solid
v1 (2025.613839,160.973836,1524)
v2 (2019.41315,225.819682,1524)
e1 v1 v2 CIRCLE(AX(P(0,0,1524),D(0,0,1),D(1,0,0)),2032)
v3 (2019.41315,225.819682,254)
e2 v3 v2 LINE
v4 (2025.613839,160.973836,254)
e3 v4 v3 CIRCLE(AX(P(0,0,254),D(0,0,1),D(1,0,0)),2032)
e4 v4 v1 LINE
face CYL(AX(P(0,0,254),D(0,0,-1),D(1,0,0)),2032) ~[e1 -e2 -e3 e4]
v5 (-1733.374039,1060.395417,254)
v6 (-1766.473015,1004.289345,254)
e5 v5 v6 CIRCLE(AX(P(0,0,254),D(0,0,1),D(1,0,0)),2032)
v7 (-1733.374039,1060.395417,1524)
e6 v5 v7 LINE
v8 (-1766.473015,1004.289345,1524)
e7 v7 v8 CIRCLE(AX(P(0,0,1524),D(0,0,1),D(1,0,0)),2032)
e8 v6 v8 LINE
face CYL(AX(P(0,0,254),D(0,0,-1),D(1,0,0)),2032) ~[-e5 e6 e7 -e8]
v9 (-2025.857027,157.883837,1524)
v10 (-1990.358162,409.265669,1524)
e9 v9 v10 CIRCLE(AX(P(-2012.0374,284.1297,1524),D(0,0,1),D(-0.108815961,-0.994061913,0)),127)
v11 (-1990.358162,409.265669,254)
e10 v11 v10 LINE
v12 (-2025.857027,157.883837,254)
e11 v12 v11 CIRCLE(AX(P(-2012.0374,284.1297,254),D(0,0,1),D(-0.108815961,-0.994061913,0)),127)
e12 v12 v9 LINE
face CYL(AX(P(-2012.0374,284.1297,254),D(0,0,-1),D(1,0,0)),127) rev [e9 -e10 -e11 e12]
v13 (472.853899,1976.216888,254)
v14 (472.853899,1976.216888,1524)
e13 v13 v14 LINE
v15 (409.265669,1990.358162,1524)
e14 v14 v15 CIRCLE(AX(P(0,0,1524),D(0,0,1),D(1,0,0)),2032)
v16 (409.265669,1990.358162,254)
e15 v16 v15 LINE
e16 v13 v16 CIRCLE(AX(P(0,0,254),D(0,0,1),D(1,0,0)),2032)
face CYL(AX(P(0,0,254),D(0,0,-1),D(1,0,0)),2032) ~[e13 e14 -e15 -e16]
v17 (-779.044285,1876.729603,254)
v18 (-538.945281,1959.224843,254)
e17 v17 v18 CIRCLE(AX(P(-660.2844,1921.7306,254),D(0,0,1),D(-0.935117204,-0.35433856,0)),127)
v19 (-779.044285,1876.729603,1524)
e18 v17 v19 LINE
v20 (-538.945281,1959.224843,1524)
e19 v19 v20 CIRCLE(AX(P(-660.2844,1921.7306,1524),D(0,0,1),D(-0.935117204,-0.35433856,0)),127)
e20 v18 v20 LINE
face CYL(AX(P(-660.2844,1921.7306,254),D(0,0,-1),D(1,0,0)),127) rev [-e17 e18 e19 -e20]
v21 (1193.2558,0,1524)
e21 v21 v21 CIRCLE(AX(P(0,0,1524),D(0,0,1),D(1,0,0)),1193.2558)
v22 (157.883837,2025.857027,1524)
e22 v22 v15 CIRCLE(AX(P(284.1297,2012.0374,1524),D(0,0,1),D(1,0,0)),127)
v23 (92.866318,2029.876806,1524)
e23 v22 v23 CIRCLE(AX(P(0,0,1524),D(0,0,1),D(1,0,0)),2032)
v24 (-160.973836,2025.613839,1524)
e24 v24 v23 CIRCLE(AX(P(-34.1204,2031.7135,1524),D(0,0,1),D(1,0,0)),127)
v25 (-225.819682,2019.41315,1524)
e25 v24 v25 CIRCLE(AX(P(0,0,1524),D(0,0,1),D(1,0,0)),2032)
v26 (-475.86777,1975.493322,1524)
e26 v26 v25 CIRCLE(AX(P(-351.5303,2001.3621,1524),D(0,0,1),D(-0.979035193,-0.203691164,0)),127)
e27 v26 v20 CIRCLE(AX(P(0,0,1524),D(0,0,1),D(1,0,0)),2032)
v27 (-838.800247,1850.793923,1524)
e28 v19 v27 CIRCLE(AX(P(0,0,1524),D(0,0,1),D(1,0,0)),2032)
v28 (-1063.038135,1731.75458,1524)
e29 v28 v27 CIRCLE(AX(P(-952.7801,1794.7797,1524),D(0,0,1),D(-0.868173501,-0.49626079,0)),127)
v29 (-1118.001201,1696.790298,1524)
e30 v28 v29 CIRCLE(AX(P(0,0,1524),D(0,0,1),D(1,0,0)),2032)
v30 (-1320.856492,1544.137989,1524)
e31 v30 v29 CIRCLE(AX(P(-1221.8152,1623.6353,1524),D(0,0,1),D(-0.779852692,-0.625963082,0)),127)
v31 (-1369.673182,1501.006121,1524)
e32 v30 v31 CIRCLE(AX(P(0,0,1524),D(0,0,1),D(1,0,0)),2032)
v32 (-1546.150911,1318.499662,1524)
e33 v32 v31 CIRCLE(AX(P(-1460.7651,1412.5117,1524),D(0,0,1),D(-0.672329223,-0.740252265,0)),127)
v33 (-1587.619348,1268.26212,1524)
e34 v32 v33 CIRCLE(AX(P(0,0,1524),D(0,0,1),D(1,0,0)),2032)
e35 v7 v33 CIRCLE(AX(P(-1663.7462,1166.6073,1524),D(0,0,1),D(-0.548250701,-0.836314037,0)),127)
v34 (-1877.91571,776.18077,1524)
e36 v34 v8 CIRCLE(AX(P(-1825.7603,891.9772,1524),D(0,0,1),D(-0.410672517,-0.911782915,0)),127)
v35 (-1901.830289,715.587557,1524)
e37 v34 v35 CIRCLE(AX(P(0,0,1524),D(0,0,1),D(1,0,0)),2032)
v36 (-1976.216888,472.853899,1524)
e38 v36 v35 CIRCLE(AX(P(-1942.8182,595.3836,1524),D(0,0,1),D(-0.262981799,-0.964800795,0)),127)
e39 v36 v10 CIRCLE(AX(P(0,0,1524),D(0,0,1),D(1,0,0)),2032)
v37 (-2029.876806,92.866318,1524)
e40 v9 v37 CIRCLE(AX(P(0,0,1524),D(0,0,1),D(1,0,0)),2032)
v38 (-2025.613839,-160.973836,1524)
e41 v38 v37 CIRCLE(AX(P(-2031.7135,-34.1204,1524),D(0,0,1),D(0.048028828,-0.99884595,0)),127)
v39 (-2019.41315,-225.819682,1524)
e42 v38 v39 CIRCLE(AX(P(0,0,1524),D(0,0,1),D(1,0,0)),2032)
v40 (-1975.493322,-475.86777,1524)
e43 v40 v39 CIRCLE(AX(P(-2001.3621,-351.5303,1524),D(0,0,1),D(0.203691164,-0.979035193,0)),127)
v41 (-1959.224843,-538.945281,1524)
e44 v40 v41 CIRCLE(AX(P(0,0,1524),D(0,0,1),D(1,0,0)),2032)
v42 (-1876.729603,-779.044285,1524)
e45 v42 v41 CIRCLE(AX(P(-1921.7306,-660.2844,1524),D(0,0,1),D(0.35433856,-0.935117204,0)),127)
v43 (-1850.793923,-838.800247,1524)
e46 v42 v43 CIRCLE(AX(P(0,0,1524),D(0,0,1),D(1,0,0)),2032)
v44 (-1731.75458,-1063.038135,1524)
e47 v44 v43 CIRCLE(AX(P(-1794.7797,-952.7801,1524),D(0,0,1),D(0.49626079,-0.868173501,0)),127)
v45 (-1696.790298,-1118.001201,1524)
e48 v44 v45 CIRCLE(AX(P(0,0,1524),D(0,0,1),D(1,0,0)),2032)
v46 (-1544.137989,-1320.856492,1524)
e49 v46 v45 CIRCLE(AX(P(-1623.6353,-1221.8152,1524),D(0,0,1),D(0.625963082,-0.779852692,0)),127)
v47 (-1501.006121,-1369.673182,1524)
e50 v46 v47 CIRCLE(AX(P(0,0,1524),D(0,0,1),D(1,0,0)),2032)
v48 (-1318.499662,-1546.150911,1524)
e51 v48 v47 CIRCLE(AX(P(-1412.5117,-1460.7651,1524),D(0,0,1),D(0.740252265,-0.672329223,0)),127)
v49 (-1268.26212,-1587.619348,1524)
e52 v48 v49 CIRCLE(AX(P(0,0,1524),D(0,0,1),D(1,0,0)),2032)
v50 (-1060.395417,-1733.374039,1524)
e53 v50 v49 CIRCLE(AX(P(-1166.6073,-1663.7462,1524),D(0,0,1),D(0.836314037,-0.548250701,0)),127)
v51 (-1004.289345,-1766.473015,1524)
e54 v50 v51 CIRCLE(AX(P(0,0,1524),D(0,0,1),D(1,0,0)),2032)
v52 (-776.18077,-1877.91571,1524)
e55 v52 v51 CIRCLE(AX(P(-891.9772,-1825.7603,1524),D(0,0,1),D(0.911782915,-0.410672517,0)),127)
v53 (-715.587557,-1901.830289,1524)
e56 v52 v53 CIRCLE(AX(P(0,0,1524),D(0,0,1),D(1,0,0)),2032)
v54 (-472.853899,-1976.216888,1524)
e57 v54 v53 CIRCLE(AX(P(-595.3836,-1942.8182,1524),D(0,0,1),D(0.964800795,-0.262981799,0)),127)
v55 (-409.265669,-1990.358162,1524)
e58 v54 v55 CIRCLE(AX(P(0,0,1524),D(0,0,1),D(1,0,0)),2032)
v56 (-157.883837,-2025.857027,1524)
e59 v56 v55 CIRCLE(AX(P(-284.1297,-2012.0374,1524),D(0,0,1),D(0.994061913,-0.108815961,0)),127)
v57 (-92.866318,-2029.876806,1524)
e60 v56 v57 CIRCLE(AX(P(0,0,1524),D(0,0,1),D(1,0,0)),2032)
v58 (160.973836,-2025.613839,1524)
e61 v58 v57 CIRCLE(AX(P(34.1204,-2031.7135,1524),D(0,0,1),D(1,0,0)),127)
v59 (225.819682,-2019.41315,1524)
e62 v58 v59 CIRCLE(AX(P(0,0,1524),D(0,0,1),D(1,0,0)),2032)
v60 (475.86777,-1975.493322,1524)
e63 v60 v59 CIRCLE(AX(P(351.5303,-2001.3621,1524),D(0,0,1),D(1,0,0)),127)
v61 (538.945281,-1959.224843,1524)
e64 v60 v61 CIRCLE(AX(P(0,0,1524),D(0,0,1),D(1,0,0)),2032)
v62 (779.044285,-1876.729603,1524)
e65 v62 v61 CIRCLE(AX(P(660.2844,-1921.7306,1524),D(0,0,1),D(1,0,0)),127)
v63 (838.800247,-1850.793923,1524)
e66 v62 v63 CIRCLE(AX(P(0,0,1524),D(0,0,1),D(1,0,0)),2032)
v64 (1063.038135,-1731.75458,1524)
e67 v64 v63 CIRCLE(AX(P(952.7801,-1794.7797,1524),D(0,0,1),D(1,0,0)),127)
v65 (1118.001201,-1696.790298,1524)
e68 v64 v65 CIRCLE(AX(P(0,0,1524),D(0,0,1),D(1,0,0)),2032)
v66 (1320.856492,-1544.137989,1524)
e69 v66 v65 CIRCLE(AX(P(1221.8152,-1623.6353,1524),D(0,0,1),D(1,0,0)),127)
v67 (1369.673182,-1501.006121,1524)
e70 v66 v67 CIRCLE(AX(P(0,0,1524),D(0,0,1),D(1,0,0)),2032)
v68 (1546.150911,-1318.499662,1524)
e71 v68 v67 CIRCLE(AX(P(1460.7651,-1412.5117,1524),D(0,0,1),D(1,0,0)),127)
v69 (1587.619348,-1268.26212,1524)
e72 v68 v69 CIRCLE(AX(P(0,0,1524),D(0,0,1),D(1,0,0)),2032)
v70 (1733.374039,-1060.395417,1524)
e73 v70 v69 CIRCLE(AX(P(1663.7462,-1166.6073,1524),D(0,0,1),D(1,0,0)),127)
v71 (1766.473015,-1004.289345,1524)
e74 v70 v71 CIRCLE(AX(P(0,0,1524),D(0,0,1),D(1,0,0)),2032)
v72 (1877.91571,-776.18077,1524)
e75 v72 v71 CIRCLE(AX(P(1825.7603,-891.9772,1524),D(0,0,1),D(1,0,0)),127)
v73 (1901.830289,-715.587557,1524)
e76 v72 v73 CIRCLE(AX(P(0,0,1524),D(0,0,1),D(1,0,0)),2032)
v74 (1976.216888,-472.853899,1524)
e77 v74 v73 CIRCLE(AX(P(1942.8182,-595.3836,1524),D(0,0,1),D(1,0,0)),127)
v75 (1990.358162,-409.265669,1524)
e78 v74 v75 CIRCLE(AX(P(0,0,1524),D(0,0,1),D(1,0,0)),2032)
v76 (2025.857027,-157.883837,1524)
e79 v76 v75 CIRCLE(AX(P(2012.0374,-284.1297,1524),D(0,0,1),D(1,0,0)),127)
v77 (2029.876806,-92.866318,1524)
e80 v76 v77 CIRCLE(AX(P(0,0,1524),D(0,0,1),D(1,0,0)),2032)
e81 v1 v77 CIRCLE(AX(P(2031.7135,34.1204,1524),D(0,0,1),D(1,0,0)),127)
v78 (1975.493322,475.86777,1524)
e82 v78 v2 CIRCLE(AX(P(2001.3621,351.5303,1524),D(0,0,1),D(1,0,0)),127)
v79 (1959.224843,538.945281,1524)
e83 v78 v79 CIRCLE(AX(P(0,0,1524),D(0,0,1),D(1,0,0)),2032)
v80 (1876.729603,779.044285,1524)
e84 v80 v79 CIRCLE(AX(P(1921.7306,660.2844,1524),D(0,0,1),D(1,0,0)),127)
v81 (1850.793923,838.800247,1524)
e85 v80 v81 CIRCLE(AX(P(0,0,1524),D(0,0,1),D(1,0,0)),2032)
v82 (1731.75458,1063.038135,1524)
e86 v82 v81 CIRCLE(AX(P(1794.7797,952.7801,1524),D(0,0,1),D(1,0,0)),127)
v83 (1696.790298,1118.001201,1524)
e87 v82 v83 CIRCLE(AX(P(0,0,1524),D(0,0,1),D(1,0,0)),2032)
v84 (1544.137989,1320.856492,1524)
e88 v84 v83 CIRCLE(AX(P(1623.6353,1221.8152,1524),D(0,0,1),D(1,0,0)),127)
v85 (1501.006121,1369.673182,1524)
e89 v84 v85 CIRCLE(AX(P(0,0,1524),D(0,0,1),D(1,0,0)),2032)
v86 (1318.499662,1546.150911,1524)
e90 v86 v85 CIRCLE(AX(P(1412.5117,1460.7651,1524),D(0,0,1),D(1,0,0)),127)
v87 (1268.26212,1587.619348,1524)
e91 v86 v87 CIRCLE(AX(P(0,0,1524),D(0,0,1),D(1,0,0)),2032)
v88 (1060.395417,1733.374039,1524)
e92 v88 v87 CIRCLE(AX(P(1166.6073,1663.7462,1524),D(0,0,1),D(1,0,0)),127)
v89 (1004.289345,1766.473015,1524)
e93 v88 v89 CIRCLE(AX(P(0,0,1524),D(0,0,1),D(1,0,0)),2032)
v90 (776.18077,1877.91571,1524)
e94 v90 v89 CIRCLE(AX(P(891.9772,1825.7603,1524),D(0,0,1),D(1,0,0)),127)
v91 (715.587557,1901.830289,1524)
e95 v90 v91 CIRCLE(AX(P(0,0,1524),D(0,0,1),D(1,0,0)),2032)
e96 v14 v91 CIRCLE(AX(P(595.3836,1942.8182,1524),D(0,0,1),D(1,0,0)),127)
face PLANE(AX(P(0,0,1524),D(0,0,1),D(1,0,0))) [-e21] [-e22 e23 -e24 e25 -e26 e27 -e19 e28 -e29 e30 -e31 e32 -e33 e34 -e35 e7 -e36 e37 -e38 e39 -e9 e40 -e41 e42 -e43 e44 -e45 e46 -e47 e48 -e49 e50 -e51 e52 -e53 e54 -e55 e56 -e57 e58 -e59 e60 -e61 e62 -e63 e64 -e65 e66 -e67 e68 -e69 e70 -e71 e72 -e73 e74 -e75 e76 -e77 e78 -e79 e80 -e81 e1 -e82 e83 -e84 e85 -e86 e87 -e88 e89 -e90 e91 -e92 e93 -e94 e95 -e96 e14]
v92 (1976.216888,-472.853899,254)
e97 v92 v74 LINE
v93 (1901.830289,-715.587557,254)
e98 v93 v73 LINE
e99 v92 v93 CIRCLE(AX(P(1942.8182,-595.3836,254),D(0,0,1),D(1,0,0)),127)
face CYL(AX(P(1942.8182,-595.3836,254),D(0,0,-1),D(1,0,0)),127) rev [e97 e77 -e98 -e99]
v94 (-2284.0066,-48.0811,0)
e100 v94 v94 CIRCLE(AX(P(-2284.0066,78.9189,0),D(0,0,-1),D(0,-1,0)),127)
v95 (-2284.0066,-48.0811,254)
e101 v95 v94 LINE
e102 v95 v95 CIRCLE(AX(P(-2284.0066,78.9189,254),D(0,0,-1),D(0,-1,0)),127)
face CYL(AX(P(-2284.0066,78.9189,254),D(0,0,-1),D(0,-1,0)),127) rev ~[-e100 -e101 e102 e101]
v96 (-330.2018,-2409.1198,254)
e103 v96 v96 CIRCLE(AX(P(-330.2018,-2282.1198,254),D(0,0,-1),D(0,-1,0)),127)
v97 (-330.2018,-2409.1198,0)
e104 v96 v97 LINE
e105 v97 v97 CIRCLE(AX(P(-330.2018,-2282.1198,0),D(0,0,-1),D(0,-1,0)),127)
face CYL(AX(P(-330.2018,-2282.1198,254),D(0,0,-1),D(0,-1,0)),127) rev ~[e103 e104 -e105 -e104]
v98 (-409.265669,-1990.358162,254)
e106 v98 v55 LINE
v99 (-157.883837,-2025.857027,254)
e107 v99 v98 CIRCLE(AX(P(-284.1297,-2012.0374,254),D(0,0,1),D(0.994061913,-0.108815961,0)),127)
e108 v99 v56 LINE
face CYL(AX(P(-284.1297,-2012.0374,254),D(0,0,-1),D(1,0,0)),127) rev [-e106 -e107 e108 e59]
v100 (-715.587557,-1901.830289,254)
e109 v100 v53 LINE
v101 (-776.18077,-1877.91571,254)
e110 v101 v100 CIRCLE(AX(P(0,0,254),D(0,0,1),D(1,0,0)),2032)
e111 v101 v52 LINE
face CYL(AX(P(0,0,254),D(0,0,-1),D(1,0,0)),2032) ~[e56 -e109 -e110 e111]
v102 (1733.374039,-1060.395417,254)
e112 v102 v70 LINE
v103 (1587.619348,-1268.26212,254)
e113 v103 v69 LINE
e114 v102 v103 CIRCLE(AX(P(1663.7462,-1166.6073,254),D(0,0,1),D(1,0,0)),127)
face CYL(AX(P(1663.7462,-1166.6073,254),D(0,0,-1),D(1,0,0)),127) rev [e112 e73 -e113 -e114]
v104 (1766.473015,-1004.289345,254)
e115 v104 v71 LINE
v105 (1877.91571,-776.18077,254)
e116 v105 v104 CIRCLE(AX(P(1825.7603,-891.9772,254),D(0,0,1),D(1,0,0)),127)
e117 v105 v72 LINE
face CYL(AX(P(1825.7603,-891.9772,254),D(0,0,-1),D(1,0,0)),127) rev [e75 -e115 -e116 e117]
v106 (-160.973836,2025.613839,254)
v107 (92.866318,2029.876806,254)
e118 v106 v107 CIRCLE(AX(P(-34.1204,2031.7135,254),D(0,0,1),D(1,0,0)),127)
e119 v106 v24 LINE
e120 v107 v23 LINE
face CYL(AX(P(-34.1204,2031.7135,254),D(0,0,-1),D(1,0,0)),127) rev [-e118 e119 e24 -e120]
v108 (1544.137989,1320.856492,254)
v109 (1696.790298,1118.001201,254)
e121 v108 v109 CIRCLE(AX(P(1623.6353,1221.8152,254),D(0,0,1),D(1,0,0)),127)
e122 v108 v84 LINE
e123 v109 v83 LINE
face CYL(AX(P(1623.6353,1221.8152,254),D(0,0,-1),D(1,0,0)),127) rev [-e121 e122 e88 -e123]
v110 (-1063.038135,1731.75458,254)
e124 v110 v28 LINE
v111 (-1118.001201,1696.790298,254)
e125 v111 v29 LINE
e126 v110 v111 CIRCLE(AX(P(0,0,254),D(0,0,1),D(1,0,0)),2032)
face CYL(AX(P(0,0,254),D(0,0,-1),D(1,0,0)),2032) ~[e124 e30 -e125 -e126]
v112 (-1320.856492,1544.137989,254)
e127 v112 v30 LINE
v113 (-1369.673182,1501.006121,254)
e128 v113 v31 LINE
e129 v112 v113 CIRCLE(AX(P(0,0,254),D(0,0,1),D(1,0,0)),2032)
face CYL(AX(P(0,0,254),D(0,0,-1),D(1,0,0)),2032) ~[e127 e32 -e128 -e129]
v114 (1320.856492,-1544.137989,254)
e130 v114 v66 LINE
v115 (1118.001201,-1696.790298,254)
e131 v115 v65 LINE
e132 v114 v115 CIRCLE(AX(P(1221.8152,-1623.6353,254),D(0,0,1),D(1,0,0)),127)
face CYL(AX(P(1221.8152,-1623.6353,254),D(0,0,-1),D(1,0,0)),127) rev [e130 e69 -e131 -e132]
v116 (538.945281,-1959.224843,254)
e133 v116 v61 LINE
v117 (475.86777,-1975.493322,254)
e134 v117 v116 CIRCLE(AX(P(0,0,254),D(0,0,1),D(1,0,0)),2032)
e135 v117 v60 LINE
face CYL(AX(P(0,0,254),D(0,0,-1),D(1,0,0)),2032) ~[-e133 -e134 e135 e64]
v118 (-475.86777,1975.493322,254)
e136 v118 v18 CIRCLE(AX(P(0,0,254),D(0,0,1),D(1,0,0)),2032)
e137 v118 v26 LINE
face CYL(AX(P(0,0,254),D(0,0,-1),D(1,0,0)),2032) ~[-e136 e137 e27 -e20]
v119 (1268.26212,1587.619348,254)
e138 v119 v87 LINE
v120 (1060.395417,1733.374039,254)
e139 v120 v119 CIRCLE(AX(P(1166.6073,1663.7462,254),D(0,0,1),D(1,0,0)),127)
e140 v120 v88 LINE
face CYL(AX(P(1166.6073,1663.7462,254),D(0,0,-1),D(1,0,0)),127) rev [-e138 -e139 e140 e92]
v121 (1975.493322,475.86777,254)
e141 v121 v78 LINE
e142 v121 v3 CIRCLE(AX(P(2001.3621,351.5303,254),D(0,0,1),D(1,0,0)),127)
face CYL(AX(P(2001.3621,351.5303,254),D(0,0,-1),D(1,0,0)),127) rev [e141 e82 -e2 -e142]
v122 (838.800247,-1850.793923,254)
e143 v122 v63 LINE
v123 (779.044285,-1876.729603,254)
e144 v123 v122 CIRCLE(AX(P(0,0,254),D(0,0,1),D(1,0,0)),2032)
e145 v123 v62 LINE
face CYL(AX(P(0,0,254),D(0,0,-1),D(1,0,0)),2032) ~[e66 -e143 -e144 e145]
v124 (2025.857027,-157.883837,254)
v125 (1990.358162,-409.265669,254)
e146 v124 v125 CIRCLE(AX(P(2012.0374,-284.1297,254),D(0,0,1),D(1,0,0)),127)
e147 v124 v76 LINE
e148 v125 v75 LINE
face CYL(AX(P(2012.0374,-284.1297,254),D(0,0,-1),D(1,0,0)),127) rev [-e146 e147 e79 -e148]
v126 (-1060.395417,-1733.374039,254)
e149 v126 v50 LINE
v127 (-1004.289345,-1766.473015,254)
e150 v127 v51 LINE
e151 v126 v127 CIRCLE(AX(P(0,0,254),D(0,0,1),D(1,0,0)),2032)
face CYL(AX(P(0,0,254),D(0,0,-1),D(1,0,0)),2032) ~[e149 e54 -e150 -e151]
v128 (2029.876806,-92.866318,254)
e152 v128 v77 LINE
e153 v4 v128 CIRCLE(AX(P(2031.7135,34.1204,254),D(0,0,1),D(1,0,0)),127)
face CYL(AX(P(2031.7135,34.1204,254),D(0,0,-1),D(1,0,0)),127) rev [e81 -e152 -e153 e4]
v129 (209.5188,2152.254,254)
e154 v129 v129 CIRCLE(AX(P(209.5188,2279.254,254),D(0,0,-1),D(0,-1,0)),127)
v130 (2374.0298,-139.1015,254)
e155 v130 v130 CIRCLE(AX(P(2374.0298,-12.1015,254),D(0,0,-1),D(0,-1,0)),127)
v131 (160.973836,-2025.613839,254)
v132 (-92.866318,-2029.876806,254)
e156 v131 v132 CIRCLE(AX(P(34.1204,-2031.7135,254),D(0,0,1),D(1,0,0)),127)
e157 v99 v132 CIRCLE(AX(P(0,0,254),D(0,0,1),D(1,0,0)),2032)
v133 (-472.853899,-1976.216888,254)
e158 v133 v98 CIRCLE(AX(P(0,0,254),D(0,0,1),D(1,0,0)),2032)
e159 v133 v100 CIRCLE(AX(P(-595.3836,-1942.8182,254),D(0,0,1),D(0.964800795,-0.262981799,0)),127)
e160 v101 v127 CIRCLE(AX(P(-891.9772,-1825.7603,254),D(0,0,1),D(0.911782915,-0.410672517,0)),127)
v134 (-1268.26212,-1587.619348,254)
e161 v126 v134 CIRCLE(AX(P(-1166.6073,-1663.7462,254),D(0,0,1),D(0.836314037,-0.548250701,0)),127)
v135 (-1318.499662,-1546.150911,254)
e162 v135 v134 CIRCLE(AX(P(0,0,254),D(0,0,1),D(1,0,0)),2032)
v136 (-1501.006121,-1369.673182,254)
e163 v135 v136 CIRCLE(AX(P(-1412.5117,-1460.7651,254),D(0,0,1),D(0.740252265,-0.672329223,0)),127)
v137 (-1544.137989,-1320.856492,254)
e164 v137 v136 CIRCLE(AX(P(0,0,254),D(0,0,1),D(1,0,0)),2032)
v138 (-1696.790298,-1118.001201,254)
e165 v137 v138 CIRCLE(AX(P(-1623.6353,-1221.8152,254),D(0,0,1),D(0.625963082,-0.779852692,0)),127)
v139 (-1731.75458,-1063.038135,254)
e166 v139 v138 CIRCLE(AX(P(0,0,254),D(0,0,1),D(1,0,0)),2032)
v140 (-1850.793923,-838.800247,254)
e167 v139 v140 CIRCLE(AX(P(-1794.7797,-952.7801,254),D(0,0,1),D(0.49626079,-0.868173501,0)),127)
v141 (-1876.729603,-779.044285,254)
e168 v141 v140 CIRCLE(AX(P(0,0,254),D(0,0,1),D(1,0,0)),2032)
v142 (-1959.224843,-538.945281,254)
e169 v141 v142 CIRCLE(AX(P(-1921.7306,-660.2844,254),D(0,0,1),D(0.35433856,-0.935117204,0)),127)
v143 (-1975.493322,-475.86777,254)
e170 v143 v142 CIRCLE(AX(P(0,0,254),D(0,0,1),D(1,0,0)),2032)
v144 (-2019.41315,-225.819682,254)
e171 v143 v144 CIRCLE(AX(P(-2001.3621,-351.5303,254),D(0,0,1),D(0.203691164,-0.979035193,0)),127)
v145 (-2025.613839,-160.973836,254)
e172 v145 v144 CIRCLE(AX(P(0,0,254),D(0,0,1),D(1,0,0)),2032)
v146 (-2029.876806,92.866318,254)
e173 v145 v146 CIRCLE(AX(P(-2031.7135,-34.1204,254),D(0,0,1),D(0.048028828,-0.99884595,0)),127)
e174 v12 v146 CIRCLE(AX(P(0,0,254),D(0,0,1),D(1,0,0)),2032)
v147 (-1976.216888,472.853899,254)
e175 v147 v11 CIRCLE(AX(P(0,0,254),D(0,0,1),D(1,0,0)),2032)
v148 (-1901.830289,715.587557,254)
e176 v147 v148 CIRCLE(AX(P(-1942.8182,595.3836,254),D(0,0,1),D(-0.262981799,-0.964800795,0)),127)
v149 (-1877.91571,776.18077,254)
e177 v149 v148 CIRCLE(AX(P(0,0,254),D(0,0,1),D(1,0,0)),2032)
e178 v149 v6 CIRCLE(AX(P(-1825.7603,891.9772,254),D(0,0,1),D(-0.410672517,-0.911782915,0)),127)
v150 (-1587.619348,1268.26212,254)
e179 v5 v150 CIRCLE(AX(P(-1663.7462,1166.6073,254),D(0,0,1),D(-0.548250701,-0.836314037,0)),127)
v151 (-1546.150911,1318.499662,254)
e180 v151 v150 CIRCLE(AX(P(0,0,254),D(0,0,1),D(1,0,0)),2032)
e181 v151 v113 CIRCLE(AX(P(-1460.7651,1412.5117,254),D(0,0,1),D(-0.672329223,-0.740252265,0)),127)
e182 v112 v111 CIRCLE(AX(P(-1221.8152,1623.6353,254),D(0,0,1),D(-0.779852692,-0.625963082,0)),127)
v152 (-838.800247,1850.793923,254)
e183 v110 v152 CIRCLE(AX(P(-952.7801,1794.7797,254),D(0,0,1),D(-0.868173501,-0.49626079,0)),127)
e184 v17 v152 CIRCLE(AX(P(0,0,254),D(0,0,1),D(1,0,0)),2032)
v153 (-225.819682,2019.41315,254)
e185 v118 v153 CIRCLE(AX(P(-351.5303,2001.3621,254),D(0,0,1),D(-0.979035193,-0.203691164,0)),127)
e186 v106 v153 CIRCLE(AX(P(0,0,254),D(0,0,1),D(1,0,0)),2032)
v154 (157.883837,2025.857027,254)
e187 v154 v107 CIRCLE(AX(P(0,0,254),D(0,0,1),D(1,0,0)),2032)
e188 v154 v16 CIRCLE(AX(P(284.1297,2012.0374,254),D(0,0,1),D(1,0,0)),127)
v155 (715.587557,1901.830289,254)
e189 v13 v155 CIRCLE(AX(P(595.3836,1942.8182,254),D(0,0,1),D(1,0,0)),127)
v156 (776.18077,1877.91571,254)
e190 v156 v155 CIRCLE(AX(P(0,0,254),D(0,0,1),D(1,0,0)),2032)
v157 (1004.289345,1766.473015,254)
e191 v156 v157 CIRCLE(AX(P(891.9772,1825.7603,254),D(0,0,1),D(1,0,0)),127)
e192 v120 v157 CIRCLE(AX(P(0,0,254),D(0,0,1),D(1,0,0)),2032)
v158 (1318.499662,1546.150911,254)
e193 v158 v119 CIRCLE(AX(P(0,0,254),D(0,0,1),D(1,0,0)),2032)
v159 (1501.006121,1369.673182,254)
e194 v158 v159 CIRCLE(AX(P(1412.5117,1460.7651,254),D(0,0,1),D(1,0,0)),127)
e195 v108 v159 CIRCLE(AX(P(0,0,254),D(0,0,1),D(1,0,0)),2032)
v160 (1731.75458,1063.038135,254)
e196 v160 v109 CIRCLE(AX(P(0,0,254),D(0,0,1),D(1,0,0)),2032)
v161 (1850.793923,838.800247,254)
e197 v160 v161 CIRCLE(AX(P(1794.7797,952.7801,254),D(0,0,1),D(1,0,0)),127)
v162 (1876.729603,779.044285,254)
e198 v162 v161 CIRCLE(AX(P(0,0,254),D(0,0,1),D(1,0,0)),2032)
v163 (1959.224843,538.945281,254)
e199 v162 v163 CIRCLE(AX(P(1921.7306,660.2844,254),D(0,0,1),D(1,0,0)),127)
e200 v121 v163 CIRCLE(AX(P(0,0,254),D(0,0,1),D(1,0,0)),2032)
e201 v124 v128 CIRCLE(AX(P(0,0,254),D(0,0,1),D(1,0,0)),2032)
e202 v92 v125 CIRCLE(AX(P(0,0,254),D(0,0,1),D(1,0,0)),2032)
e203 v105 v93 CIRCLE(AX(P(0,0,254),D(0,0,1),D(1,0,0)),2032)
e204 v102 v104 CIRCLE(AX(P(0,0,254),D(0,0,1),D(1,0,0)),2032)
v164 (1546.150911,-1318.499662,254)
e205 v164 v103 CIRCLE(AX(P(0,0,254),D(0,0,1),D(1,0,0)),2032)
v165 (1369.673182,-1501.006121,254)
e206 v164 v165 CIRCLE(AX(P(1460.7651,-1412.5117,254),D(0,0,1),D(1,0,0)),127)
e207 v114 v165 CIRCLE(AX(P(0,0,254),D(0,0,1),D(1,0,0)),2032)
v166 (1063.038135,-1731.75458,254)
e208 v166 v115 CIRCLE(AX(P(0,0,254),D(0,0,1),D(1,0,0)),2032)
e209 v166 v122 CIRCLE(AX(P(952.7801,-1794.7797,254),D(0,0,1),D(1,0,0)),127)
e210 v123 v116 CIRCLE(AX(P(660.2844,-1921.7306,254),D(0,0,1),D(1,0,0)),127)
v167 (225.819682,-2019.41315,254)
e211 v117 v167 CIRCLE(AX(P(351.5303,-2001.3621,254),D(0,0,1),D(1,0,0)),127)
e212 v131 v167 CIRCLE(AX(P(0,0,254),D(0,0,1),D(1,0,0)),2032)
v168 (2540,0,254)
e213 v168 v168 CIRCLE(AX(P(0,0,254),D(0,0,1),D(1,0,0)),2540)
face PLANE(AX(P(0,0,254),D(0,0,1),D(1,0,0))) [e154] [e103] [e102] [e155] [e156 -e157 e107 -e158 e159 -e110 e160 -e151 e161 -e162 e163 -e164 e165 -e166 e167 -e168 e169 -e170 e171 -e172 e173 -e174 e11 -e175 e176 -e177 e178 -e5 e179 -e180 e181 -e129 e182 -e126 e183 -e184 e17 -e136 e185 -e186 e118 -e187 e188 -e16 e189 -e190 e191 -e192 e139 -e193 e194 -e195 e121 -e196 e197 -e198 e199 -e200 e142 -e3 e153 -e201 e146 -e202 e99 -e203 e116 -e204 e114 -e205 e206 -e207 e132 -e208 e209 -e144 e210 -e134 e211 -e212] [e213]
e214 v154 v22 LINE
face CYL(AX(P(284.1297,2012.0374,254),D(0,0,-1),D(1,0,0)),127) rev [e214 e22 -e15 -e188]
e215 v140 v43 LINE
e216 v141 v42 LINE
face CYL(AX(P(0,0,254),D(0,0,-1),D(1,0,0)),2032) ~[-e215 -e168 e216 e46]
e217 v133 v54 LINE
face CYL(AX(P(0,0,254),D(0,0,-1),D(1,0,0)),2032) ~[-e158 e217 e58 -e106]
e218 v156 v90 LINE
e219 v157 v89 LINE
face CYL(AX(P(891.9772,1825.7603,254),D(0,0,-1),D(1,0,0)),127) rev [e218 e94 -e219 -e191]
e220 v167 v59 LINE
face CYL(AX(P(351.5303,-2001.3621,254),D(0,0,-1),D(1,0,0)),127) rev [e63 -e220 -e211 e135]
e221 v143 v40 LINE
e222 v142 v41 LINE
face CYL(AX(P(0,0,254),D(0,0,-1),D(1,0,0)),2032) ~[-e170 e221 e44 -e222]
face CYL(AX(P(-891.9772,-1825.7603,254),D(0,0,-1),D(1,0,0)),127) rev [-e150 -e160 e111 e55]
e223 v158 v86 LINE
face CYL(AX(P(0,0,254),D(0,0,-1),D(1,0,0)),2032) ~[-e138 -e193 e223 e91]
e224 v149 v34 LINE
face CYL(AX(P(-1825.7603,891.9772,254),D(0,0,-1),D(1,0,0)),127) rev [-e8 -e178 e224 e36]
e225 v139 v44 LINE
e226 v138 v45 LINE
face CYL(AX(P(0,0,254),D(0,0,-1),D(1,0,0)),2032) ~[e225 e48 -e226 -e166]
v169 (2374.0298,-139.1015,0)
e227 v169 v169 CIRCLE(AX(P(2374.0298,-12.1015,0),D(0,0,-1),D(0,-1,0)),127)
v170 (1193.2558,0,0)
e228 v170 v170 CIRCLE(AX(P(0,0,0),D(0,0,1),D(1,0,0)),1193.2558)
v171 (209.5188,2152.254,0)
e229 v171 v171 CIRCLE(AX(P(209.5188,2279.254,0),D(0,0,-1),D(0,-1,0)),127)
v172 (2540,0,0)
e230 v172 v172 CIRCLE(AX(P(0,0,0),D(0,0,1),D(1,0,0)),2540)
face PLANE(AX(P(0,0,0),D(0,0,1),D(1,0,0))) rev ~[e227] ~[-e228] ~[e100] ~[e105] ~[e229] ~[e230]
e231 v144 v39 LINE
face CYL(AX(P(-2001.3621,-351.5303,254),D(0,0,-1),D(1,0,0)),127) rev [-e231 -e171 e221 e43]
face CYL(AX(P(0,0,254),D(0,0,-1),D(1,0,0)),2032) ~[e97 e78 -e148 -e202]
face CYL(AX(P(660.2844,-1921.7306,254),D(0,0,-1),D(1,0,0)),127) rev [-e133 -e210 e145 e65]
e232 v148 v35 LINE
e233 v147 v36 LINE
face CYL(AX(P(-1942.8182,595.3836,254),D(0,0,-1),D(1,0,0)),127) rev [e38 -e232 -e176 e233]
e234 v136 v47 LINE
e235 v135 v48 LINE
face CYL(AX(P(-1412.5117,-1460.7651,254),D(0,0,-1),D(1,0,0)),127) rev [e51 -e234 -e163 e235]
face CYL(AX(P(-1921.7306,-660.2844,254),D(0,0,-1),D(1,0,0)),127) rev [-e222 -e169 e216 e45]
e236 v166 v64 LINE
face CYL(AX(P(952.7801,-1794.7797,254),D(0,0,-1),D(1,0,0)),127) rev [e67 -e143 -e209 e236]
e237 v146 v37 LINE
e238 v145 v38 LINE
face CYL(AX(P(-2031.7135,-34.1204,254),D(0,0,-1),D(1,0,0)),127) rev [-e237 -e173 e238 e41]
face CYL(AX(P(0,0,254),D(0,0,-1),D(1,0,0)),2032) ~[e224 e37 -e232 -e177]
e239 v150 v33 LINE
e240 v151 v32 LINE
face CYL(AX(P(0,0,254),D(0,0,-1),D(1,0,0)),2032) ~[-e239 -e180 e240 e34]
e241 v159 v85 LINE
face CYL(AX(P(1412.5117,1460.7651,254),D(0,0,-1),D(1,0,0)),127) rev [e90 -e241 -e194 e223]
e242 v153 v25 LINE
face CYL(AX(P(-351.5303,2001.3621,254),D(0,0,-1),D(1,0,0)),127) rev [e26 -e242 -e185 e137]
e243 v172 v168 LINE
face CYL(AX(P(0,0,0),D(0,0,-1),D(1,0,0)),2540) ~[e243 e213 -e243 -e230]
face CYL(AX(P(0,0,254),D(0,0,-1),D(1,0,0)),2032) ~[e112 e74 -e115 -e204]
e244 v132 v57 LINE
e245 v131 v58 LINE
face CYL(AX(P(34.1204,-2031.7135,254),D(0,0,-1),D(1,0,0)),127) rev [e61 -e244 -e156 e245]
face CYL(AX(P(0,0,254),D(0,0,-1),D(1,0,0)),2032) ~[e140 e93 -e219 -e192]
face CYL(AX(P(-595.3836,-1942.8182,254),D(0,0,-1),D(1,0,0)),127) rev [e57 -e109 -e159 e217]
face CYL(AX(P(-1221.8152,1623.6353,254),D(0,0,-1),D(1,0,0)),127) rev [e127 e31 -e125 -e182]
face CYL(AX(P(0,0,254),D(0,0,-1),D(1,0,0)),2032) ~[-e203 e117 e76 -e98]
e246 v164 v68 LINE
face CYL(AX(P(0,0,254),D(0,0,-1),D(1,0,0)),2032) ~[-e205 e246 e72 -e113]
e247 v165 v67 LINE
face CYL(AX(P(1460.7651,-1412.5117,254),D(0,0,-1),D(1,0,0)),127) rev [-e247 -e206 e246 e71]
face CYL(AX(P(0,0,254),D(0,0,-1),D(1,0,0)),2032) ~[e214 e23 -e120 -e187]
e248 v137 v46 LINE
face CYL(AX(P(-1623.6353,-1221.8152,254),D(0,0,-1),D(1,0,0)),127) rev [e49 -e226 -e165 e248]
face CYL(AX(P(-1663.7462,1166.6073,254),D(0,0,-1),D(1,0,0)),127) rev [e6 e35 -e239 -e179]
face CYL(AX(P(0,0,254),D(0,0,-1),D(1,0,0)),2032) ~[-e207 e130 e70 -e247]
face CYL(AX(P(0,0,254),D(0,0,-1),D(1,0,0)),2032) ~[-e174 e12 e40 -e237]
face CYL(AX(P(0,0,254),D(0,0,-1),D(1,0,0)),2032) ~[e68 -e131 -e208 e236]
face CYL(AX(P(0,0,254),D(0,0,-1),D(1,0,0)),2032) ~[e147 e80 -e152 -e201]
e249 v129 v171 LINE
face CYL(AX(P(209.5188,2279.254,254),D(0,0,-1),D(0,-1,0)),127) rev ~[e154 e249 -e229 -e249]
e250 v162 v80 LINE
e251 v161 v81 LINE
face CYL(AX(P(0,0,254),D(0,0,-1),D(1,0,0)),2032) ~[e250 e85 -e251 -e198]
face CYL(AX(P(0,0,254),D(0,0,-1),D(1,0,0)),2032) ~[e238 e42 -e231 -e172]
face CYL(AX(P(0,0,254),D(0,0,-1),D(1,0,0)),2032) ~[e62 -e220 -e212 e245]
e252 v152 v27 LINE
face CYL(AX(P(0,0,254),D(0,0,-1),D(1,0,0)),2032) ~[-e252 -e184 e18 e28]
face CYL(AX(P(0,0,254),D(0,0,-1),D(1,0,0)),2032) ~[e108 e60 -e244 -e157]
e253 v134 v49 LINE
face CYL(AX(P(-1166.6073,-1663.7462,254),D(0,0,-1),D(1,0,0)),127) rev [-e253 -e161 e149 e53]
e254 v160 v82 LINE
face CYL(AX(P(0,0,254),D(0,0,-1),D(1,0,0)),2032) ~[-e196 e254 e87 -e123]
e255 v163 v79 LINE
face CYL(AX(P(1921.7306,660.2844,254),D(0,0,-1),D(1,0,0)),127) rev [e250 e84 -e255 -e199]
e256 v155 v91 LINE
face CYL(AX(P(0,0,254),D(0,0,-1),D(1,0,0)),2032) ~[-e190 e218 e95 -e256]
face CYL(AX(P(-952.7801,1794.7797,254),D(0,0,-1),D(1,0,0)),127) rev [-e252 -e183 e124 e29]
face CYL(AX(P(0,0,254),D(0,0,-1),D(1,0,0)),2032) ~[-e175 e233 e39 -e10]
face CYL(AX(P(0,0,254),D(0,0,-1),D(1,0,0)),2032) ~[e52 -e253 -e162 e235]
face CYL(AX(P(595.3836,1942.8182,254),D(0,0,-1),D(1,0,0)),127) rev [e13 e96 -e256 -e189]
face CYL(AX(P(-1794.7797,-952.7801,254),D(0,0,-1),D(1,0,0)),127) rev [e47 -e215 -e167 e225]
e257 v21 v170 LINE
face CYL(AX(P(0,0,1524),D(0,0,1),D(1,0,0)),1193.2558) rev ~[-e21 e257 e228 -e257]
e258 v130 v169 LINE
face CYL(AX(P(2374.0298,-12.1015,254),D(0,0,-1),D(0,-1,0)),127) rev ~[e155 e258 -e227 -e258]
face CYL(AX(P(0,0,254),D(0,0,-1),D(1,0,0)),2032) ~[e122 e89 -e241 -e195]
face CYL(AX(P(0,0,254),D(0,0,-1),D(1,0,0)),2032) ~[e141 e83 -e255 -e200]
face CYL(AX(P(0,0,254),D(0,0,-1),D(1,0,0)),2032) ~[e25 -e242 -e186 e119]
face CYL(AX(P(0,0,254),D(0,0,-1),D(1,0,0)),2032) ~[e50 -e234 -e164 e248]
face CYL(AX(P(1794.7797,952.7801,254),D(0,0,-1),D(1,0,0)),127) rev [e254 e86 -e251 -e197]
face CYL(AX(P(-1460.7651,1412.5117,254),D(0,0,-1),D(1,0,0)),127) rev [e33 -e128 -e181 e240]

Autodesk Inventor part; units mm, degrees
ref_plane "YZ Plane" through (0, 0, 0) normal (1, 0, 0) x (0, 1, 0)
ref_plane "XZ Plane" through (0, 0, 0) normal (0, 1, 0) x (-1, 0, 0)
ref_plane "XY Plane" through (0, 0, 0) normal (0, 0, 1) x (1, 0, 0)
sketch "Sketch1" plane through (0, 0, 0) normal (0, 0, 1) x (1, 0, 0)
  circle A0 centre (0, 0) radius 2540
  dimension "d0" = 5080
extrude "Extrusion1" add sketch "Sketch1" along normal blind 254
sketch "Sketch2" plane through (0, 0, 254) normal (0, 0, 1) x (1, 0, 0)
  circle A0 centre (0, 0) radius 2032
  circle A1 centre (1460.7651, -1412.5117) radius 127
  circle A2 centre (1663.7462, -1166.6073) radius 127
  circle A3 centre (1825.7603, -891.9772) radius 127
  circle A4 centre (1942.8182, -595.3836) radius 127
  circle A5 centre (2012.0374, -284.1297) radius 127
  circle A6 centre (2031.7135, 34.1204) radius 127
  circle A7 centre (2001.3621, 351.5303) radius 127
  circle A8 centre (1921.7306, 660.2844) radius 127
  circle A9 centre (1794.7797, 952.7801) radius 127
  circle A10 centre (1623.6353, 1221.8152) radius 127
  circle A11 centre (1412.5117, 1460.7651) radius 127
  circle A12 centre (1166.6073, 1663.7462) radius 127
  circle A13 centre (891.9772, 1825.7603) radius 127
  circle A14 centre (595.3836, 1942.8182) radius 127
  circle A15 centre (284.1297, 2012.0374) radius 127
  circle A16 centre (-34.1204, 2031.7135) radius 127
  circle A17 centre (-351.5303, 2001.3621) radius 127
  circle A18 centre (-660.2844, 1921.7306) radius 127
  circle A19 centre (-952.7801, 1794.7797) radius 127
  circle A20 centre (-1221.8152, 1623.6353) radius 127
  circle A21 centre (-1460.7651, 1412.5117) radius 127
  circle A22 centre (-1663.7462, 1166.6073) radius 127
  circle A23 centre (-1825.7603, 891.9772) radius 127
  circle A24 centre (-1942.8182, 595.3836) radius 127
  circle A25 centre (-2012.0374, 284.1297) radius 127
  circle A26 centre (-2031.7135, -34.1204) radius 127
  circle A27 centre (-2001.3621, -351.5303) radius 127
  circle A28 centre (-1921.7306, -660.2844) radius 127
  circle A29 centre (-1794.7797, -952.7801) radius 127
  circle A30 centre (-1623.6353, -1221.8152) radius 127
  circle A31 centre (-1412.5117, -1460.7651) radius 127
  circle A32 centre (-1166.6073, -1663.7462) radius 127
  circle A33 centre (-891.9772, -1825.7603) radius 127
  circle A34 centre (-595.3836, -1942.8182) radius 127
  circle A35 centre (-284.1297, -2012.0374) radius 127
  circle A36 centre (34.1204, -2031.7135) radius 127
  circle A37 centre (351.5303, -2001.3621) radius 127
  circle A38 centre (660.2844, -1921.7306) radius 127
  circle A39 centre (952.7801, -1794.7797) radius 127
  circle A40 centre (1221.8152, -1623.6353) radius 127
  point P0 (1118.0012, -1696.7903)
  point P1 (1320.8565, -1544.138)
  point P2 (1369.6732, -1501.0061)
  point P3 (1546.151, -1318.4996)
  point P4 (1587.6194, -1268.2621)
  point P5 (1733.3741, -1060.3954)
  point P6 (1766.473, -1004.2893)
  point P7 (1877.9157, -776.1807)
  point P8 (1901.8303, -715.5876)
  point P9 (1976.2169, -472.8539)
  point P10 (1990.3582, -409.2657)
  point P11 (2025.857, -157.8839)
  point P12 (2029.8768, -92.8663)
  point P13 (2025.6138, 160.9738)
  point P14 (2019.4131, 225.8197)
  point P15 (1975.4933, 475.8678)
  point P16 (1959.2248, 538.9453)
  point P17 (1876.7296, 779.0443)
  point P18 (1850.7939, 838.8003)
  point P19 (1731.7546, 1063.0382)
  point P20 (1696.7903, 1118.0012)
  point P21 (1544.138, 1320.8565)
  point P22 (1501.0061, 1369.6732)
  point P23 (1318.4996, 1546.151)
  point P24 (1268.2621, 1587.6194)
  point P25 (1060.3954, 1733.3741)
  point P26 (1004.2893, 1766.473)
  point P27 (776.1807, 1877.9157)
  point P28 (715.5876, 1901.8303)
  point P29 (472.8539, 1976.2169)
  point P30 (409.2657, 1990.3582)
  point P31 (157.8839, 2025.857)
  point P32 (92.8663, 2029.8768)
  point P33 (-160.9738, 2025.6138)
  point P34 (-225.8197, 2019.4131)
  point P35 (-475.8678, 1975.4933)
  point P36 (-538.9453, 1959.2248)
  point P37 (-779.0443, 1876.7296)
  point P38 (-838.8003, 1850.7939)
  point P39 (-1063.0382, 1731.7546)
  point P40 (-1118.0012, 1696.7903)
  point P41 (-1320.8565, 1544.138)
  point P42 (-1369.6732, 1501.0061)
  point P43 (-1546.151, 1318.4996)
  point P44 (-1587.6194, 1268.2621)
  point P45 (-1733.3741, 1060.3954)
  point P46 (-1766.473, 1004.2893)
  point P47 (-1877.9157, 776.1807)
  point P48 (-1901.8303, 715.5876)
  point P49 (-1976.2169, 472.8539)
  point P50 (-1990.3582, 409.2657)
  point P51 (-2025.857, 157.8839)
  point P52 (-2029.8768, 92.8663)
  point P53 (-2025.6138, -160.9738)
  point P54 (-2019.4131, -225.8197)
  point P55 (-1975.4933, -475.8678)
  point P56 (-1959.2248, -538.9453)
  point P57 (-1876.7296, -779.0443)
  point P58 (-1850.7939, -838.8003)
  point P59 (-1731.7546, -1063.0382)
  point P60 (-1696.7903, -1118.0012)
  point P61 (-1544.138, -1320.8565)
  point P62 (-1501.0061, -1369.6732)
  point P63 (-1318.4996, -1546.151)
  point P64 (-1268.2621, -1587.6194)
  point P65 (-1060.3954, -1733.3741)
  point P66 (-1004.2893, -1766.473)
  point P67 (-776.1807, -1877.9157)
  point P68 (-715.5876, -1901.8303)
  point P69 (-472.8539, -1976.2169)
  point P70 (-409.2657, -1990.3582)
  point P71 (-157.8839, -2025.857)
  point P72 (-92.8663, -2029.8768)
  point P73 (160.9738, -2025.6138)
  point P74 (225.8197, -2019.4131)
  point P75 (475.8678, -1975.4933)
  point P76 (538.9453, -1959.2248)
  point P77 (779.0443, -1876.7296)
  point P78 (838.8003, -1850.7939)
  point P79 (1063.0382, -1731.7546)
  dimension "d3" = 4064
  dimension "d4" = 254
  dimension "d7" = 360
extrude "Extrusion2" add sketch "Sketch2" along normal blind 1270 contours A6 A0 A5 A4 A3 A2 A1 A40 A39 A38 A37 A36 A35 A34 A33 A32 A31 A30 A29 A28 A27 A26 A25 A24 A23 A22 A21 A20 A19 A18 A17 A16 A15 A14 A13 A12 A11 A10 A9 A8 A7
sketch "Sketch3" plane through (0, 0, 1524) normal (0, 0, 1) x (1, 0, 0)
  circle A0 centre (0, 0) radius 1193.2558
extrude "Extrusion3" cut sketch "Sketch3" against normal blind 4257.675
sketch "Sketch4" plane through (0, 0, 1524) normal (0, 0, 1) x (1, 0, 0)
  circle A0 centre (0, 0) radius 1566.9494
  circle A1 centre (0, 0) radius 1262.4077
sketch "Sketch5" plane through (0, 0, 254) normal (0, 0, 1) x (1, 0, 0)
  point P0 (0, 0)
  point P1 (2374.0298, -12.1015)
hole "Hole1" at (2374.0298, -12.1015, 254) direction (0, 0, -1) diameter 254 end through all
sketch "Sketch6" plane through (0, 0, 254) normal (0, 0, 1) x (1, 0, 0)
  point P0 (0, 0)
  point P1 (-330.2018, -2282.1198)
hole "Hole2" at (-330.2018, -2282.1198, 254) direction (0, 0, -1) diameter 254 end through all
sketch "Sketch7" plane through (0, 0, 254) normal (0, 0, 1) x (1, 0, 0)
  point P0 (0, 0)
  point P1 (209.5188, 2279.254)
hole "Hole3" at (209.5188, 2279.254, 254) direction (0, 0, -1) diameter 254 end through all
sketch "Sketch8" plane through (0, 0, 254) normal (0, 0, 1) x (1, 0, 0)
  point P0 (0, 0)
  point P1 (-2284.0066, 78.9189)
hole "Hole4" at (-2284.0066, 78.9189, 254) direction (0, 0, -1) diameter 254 end through all
properties part number "051665019-12-1"
